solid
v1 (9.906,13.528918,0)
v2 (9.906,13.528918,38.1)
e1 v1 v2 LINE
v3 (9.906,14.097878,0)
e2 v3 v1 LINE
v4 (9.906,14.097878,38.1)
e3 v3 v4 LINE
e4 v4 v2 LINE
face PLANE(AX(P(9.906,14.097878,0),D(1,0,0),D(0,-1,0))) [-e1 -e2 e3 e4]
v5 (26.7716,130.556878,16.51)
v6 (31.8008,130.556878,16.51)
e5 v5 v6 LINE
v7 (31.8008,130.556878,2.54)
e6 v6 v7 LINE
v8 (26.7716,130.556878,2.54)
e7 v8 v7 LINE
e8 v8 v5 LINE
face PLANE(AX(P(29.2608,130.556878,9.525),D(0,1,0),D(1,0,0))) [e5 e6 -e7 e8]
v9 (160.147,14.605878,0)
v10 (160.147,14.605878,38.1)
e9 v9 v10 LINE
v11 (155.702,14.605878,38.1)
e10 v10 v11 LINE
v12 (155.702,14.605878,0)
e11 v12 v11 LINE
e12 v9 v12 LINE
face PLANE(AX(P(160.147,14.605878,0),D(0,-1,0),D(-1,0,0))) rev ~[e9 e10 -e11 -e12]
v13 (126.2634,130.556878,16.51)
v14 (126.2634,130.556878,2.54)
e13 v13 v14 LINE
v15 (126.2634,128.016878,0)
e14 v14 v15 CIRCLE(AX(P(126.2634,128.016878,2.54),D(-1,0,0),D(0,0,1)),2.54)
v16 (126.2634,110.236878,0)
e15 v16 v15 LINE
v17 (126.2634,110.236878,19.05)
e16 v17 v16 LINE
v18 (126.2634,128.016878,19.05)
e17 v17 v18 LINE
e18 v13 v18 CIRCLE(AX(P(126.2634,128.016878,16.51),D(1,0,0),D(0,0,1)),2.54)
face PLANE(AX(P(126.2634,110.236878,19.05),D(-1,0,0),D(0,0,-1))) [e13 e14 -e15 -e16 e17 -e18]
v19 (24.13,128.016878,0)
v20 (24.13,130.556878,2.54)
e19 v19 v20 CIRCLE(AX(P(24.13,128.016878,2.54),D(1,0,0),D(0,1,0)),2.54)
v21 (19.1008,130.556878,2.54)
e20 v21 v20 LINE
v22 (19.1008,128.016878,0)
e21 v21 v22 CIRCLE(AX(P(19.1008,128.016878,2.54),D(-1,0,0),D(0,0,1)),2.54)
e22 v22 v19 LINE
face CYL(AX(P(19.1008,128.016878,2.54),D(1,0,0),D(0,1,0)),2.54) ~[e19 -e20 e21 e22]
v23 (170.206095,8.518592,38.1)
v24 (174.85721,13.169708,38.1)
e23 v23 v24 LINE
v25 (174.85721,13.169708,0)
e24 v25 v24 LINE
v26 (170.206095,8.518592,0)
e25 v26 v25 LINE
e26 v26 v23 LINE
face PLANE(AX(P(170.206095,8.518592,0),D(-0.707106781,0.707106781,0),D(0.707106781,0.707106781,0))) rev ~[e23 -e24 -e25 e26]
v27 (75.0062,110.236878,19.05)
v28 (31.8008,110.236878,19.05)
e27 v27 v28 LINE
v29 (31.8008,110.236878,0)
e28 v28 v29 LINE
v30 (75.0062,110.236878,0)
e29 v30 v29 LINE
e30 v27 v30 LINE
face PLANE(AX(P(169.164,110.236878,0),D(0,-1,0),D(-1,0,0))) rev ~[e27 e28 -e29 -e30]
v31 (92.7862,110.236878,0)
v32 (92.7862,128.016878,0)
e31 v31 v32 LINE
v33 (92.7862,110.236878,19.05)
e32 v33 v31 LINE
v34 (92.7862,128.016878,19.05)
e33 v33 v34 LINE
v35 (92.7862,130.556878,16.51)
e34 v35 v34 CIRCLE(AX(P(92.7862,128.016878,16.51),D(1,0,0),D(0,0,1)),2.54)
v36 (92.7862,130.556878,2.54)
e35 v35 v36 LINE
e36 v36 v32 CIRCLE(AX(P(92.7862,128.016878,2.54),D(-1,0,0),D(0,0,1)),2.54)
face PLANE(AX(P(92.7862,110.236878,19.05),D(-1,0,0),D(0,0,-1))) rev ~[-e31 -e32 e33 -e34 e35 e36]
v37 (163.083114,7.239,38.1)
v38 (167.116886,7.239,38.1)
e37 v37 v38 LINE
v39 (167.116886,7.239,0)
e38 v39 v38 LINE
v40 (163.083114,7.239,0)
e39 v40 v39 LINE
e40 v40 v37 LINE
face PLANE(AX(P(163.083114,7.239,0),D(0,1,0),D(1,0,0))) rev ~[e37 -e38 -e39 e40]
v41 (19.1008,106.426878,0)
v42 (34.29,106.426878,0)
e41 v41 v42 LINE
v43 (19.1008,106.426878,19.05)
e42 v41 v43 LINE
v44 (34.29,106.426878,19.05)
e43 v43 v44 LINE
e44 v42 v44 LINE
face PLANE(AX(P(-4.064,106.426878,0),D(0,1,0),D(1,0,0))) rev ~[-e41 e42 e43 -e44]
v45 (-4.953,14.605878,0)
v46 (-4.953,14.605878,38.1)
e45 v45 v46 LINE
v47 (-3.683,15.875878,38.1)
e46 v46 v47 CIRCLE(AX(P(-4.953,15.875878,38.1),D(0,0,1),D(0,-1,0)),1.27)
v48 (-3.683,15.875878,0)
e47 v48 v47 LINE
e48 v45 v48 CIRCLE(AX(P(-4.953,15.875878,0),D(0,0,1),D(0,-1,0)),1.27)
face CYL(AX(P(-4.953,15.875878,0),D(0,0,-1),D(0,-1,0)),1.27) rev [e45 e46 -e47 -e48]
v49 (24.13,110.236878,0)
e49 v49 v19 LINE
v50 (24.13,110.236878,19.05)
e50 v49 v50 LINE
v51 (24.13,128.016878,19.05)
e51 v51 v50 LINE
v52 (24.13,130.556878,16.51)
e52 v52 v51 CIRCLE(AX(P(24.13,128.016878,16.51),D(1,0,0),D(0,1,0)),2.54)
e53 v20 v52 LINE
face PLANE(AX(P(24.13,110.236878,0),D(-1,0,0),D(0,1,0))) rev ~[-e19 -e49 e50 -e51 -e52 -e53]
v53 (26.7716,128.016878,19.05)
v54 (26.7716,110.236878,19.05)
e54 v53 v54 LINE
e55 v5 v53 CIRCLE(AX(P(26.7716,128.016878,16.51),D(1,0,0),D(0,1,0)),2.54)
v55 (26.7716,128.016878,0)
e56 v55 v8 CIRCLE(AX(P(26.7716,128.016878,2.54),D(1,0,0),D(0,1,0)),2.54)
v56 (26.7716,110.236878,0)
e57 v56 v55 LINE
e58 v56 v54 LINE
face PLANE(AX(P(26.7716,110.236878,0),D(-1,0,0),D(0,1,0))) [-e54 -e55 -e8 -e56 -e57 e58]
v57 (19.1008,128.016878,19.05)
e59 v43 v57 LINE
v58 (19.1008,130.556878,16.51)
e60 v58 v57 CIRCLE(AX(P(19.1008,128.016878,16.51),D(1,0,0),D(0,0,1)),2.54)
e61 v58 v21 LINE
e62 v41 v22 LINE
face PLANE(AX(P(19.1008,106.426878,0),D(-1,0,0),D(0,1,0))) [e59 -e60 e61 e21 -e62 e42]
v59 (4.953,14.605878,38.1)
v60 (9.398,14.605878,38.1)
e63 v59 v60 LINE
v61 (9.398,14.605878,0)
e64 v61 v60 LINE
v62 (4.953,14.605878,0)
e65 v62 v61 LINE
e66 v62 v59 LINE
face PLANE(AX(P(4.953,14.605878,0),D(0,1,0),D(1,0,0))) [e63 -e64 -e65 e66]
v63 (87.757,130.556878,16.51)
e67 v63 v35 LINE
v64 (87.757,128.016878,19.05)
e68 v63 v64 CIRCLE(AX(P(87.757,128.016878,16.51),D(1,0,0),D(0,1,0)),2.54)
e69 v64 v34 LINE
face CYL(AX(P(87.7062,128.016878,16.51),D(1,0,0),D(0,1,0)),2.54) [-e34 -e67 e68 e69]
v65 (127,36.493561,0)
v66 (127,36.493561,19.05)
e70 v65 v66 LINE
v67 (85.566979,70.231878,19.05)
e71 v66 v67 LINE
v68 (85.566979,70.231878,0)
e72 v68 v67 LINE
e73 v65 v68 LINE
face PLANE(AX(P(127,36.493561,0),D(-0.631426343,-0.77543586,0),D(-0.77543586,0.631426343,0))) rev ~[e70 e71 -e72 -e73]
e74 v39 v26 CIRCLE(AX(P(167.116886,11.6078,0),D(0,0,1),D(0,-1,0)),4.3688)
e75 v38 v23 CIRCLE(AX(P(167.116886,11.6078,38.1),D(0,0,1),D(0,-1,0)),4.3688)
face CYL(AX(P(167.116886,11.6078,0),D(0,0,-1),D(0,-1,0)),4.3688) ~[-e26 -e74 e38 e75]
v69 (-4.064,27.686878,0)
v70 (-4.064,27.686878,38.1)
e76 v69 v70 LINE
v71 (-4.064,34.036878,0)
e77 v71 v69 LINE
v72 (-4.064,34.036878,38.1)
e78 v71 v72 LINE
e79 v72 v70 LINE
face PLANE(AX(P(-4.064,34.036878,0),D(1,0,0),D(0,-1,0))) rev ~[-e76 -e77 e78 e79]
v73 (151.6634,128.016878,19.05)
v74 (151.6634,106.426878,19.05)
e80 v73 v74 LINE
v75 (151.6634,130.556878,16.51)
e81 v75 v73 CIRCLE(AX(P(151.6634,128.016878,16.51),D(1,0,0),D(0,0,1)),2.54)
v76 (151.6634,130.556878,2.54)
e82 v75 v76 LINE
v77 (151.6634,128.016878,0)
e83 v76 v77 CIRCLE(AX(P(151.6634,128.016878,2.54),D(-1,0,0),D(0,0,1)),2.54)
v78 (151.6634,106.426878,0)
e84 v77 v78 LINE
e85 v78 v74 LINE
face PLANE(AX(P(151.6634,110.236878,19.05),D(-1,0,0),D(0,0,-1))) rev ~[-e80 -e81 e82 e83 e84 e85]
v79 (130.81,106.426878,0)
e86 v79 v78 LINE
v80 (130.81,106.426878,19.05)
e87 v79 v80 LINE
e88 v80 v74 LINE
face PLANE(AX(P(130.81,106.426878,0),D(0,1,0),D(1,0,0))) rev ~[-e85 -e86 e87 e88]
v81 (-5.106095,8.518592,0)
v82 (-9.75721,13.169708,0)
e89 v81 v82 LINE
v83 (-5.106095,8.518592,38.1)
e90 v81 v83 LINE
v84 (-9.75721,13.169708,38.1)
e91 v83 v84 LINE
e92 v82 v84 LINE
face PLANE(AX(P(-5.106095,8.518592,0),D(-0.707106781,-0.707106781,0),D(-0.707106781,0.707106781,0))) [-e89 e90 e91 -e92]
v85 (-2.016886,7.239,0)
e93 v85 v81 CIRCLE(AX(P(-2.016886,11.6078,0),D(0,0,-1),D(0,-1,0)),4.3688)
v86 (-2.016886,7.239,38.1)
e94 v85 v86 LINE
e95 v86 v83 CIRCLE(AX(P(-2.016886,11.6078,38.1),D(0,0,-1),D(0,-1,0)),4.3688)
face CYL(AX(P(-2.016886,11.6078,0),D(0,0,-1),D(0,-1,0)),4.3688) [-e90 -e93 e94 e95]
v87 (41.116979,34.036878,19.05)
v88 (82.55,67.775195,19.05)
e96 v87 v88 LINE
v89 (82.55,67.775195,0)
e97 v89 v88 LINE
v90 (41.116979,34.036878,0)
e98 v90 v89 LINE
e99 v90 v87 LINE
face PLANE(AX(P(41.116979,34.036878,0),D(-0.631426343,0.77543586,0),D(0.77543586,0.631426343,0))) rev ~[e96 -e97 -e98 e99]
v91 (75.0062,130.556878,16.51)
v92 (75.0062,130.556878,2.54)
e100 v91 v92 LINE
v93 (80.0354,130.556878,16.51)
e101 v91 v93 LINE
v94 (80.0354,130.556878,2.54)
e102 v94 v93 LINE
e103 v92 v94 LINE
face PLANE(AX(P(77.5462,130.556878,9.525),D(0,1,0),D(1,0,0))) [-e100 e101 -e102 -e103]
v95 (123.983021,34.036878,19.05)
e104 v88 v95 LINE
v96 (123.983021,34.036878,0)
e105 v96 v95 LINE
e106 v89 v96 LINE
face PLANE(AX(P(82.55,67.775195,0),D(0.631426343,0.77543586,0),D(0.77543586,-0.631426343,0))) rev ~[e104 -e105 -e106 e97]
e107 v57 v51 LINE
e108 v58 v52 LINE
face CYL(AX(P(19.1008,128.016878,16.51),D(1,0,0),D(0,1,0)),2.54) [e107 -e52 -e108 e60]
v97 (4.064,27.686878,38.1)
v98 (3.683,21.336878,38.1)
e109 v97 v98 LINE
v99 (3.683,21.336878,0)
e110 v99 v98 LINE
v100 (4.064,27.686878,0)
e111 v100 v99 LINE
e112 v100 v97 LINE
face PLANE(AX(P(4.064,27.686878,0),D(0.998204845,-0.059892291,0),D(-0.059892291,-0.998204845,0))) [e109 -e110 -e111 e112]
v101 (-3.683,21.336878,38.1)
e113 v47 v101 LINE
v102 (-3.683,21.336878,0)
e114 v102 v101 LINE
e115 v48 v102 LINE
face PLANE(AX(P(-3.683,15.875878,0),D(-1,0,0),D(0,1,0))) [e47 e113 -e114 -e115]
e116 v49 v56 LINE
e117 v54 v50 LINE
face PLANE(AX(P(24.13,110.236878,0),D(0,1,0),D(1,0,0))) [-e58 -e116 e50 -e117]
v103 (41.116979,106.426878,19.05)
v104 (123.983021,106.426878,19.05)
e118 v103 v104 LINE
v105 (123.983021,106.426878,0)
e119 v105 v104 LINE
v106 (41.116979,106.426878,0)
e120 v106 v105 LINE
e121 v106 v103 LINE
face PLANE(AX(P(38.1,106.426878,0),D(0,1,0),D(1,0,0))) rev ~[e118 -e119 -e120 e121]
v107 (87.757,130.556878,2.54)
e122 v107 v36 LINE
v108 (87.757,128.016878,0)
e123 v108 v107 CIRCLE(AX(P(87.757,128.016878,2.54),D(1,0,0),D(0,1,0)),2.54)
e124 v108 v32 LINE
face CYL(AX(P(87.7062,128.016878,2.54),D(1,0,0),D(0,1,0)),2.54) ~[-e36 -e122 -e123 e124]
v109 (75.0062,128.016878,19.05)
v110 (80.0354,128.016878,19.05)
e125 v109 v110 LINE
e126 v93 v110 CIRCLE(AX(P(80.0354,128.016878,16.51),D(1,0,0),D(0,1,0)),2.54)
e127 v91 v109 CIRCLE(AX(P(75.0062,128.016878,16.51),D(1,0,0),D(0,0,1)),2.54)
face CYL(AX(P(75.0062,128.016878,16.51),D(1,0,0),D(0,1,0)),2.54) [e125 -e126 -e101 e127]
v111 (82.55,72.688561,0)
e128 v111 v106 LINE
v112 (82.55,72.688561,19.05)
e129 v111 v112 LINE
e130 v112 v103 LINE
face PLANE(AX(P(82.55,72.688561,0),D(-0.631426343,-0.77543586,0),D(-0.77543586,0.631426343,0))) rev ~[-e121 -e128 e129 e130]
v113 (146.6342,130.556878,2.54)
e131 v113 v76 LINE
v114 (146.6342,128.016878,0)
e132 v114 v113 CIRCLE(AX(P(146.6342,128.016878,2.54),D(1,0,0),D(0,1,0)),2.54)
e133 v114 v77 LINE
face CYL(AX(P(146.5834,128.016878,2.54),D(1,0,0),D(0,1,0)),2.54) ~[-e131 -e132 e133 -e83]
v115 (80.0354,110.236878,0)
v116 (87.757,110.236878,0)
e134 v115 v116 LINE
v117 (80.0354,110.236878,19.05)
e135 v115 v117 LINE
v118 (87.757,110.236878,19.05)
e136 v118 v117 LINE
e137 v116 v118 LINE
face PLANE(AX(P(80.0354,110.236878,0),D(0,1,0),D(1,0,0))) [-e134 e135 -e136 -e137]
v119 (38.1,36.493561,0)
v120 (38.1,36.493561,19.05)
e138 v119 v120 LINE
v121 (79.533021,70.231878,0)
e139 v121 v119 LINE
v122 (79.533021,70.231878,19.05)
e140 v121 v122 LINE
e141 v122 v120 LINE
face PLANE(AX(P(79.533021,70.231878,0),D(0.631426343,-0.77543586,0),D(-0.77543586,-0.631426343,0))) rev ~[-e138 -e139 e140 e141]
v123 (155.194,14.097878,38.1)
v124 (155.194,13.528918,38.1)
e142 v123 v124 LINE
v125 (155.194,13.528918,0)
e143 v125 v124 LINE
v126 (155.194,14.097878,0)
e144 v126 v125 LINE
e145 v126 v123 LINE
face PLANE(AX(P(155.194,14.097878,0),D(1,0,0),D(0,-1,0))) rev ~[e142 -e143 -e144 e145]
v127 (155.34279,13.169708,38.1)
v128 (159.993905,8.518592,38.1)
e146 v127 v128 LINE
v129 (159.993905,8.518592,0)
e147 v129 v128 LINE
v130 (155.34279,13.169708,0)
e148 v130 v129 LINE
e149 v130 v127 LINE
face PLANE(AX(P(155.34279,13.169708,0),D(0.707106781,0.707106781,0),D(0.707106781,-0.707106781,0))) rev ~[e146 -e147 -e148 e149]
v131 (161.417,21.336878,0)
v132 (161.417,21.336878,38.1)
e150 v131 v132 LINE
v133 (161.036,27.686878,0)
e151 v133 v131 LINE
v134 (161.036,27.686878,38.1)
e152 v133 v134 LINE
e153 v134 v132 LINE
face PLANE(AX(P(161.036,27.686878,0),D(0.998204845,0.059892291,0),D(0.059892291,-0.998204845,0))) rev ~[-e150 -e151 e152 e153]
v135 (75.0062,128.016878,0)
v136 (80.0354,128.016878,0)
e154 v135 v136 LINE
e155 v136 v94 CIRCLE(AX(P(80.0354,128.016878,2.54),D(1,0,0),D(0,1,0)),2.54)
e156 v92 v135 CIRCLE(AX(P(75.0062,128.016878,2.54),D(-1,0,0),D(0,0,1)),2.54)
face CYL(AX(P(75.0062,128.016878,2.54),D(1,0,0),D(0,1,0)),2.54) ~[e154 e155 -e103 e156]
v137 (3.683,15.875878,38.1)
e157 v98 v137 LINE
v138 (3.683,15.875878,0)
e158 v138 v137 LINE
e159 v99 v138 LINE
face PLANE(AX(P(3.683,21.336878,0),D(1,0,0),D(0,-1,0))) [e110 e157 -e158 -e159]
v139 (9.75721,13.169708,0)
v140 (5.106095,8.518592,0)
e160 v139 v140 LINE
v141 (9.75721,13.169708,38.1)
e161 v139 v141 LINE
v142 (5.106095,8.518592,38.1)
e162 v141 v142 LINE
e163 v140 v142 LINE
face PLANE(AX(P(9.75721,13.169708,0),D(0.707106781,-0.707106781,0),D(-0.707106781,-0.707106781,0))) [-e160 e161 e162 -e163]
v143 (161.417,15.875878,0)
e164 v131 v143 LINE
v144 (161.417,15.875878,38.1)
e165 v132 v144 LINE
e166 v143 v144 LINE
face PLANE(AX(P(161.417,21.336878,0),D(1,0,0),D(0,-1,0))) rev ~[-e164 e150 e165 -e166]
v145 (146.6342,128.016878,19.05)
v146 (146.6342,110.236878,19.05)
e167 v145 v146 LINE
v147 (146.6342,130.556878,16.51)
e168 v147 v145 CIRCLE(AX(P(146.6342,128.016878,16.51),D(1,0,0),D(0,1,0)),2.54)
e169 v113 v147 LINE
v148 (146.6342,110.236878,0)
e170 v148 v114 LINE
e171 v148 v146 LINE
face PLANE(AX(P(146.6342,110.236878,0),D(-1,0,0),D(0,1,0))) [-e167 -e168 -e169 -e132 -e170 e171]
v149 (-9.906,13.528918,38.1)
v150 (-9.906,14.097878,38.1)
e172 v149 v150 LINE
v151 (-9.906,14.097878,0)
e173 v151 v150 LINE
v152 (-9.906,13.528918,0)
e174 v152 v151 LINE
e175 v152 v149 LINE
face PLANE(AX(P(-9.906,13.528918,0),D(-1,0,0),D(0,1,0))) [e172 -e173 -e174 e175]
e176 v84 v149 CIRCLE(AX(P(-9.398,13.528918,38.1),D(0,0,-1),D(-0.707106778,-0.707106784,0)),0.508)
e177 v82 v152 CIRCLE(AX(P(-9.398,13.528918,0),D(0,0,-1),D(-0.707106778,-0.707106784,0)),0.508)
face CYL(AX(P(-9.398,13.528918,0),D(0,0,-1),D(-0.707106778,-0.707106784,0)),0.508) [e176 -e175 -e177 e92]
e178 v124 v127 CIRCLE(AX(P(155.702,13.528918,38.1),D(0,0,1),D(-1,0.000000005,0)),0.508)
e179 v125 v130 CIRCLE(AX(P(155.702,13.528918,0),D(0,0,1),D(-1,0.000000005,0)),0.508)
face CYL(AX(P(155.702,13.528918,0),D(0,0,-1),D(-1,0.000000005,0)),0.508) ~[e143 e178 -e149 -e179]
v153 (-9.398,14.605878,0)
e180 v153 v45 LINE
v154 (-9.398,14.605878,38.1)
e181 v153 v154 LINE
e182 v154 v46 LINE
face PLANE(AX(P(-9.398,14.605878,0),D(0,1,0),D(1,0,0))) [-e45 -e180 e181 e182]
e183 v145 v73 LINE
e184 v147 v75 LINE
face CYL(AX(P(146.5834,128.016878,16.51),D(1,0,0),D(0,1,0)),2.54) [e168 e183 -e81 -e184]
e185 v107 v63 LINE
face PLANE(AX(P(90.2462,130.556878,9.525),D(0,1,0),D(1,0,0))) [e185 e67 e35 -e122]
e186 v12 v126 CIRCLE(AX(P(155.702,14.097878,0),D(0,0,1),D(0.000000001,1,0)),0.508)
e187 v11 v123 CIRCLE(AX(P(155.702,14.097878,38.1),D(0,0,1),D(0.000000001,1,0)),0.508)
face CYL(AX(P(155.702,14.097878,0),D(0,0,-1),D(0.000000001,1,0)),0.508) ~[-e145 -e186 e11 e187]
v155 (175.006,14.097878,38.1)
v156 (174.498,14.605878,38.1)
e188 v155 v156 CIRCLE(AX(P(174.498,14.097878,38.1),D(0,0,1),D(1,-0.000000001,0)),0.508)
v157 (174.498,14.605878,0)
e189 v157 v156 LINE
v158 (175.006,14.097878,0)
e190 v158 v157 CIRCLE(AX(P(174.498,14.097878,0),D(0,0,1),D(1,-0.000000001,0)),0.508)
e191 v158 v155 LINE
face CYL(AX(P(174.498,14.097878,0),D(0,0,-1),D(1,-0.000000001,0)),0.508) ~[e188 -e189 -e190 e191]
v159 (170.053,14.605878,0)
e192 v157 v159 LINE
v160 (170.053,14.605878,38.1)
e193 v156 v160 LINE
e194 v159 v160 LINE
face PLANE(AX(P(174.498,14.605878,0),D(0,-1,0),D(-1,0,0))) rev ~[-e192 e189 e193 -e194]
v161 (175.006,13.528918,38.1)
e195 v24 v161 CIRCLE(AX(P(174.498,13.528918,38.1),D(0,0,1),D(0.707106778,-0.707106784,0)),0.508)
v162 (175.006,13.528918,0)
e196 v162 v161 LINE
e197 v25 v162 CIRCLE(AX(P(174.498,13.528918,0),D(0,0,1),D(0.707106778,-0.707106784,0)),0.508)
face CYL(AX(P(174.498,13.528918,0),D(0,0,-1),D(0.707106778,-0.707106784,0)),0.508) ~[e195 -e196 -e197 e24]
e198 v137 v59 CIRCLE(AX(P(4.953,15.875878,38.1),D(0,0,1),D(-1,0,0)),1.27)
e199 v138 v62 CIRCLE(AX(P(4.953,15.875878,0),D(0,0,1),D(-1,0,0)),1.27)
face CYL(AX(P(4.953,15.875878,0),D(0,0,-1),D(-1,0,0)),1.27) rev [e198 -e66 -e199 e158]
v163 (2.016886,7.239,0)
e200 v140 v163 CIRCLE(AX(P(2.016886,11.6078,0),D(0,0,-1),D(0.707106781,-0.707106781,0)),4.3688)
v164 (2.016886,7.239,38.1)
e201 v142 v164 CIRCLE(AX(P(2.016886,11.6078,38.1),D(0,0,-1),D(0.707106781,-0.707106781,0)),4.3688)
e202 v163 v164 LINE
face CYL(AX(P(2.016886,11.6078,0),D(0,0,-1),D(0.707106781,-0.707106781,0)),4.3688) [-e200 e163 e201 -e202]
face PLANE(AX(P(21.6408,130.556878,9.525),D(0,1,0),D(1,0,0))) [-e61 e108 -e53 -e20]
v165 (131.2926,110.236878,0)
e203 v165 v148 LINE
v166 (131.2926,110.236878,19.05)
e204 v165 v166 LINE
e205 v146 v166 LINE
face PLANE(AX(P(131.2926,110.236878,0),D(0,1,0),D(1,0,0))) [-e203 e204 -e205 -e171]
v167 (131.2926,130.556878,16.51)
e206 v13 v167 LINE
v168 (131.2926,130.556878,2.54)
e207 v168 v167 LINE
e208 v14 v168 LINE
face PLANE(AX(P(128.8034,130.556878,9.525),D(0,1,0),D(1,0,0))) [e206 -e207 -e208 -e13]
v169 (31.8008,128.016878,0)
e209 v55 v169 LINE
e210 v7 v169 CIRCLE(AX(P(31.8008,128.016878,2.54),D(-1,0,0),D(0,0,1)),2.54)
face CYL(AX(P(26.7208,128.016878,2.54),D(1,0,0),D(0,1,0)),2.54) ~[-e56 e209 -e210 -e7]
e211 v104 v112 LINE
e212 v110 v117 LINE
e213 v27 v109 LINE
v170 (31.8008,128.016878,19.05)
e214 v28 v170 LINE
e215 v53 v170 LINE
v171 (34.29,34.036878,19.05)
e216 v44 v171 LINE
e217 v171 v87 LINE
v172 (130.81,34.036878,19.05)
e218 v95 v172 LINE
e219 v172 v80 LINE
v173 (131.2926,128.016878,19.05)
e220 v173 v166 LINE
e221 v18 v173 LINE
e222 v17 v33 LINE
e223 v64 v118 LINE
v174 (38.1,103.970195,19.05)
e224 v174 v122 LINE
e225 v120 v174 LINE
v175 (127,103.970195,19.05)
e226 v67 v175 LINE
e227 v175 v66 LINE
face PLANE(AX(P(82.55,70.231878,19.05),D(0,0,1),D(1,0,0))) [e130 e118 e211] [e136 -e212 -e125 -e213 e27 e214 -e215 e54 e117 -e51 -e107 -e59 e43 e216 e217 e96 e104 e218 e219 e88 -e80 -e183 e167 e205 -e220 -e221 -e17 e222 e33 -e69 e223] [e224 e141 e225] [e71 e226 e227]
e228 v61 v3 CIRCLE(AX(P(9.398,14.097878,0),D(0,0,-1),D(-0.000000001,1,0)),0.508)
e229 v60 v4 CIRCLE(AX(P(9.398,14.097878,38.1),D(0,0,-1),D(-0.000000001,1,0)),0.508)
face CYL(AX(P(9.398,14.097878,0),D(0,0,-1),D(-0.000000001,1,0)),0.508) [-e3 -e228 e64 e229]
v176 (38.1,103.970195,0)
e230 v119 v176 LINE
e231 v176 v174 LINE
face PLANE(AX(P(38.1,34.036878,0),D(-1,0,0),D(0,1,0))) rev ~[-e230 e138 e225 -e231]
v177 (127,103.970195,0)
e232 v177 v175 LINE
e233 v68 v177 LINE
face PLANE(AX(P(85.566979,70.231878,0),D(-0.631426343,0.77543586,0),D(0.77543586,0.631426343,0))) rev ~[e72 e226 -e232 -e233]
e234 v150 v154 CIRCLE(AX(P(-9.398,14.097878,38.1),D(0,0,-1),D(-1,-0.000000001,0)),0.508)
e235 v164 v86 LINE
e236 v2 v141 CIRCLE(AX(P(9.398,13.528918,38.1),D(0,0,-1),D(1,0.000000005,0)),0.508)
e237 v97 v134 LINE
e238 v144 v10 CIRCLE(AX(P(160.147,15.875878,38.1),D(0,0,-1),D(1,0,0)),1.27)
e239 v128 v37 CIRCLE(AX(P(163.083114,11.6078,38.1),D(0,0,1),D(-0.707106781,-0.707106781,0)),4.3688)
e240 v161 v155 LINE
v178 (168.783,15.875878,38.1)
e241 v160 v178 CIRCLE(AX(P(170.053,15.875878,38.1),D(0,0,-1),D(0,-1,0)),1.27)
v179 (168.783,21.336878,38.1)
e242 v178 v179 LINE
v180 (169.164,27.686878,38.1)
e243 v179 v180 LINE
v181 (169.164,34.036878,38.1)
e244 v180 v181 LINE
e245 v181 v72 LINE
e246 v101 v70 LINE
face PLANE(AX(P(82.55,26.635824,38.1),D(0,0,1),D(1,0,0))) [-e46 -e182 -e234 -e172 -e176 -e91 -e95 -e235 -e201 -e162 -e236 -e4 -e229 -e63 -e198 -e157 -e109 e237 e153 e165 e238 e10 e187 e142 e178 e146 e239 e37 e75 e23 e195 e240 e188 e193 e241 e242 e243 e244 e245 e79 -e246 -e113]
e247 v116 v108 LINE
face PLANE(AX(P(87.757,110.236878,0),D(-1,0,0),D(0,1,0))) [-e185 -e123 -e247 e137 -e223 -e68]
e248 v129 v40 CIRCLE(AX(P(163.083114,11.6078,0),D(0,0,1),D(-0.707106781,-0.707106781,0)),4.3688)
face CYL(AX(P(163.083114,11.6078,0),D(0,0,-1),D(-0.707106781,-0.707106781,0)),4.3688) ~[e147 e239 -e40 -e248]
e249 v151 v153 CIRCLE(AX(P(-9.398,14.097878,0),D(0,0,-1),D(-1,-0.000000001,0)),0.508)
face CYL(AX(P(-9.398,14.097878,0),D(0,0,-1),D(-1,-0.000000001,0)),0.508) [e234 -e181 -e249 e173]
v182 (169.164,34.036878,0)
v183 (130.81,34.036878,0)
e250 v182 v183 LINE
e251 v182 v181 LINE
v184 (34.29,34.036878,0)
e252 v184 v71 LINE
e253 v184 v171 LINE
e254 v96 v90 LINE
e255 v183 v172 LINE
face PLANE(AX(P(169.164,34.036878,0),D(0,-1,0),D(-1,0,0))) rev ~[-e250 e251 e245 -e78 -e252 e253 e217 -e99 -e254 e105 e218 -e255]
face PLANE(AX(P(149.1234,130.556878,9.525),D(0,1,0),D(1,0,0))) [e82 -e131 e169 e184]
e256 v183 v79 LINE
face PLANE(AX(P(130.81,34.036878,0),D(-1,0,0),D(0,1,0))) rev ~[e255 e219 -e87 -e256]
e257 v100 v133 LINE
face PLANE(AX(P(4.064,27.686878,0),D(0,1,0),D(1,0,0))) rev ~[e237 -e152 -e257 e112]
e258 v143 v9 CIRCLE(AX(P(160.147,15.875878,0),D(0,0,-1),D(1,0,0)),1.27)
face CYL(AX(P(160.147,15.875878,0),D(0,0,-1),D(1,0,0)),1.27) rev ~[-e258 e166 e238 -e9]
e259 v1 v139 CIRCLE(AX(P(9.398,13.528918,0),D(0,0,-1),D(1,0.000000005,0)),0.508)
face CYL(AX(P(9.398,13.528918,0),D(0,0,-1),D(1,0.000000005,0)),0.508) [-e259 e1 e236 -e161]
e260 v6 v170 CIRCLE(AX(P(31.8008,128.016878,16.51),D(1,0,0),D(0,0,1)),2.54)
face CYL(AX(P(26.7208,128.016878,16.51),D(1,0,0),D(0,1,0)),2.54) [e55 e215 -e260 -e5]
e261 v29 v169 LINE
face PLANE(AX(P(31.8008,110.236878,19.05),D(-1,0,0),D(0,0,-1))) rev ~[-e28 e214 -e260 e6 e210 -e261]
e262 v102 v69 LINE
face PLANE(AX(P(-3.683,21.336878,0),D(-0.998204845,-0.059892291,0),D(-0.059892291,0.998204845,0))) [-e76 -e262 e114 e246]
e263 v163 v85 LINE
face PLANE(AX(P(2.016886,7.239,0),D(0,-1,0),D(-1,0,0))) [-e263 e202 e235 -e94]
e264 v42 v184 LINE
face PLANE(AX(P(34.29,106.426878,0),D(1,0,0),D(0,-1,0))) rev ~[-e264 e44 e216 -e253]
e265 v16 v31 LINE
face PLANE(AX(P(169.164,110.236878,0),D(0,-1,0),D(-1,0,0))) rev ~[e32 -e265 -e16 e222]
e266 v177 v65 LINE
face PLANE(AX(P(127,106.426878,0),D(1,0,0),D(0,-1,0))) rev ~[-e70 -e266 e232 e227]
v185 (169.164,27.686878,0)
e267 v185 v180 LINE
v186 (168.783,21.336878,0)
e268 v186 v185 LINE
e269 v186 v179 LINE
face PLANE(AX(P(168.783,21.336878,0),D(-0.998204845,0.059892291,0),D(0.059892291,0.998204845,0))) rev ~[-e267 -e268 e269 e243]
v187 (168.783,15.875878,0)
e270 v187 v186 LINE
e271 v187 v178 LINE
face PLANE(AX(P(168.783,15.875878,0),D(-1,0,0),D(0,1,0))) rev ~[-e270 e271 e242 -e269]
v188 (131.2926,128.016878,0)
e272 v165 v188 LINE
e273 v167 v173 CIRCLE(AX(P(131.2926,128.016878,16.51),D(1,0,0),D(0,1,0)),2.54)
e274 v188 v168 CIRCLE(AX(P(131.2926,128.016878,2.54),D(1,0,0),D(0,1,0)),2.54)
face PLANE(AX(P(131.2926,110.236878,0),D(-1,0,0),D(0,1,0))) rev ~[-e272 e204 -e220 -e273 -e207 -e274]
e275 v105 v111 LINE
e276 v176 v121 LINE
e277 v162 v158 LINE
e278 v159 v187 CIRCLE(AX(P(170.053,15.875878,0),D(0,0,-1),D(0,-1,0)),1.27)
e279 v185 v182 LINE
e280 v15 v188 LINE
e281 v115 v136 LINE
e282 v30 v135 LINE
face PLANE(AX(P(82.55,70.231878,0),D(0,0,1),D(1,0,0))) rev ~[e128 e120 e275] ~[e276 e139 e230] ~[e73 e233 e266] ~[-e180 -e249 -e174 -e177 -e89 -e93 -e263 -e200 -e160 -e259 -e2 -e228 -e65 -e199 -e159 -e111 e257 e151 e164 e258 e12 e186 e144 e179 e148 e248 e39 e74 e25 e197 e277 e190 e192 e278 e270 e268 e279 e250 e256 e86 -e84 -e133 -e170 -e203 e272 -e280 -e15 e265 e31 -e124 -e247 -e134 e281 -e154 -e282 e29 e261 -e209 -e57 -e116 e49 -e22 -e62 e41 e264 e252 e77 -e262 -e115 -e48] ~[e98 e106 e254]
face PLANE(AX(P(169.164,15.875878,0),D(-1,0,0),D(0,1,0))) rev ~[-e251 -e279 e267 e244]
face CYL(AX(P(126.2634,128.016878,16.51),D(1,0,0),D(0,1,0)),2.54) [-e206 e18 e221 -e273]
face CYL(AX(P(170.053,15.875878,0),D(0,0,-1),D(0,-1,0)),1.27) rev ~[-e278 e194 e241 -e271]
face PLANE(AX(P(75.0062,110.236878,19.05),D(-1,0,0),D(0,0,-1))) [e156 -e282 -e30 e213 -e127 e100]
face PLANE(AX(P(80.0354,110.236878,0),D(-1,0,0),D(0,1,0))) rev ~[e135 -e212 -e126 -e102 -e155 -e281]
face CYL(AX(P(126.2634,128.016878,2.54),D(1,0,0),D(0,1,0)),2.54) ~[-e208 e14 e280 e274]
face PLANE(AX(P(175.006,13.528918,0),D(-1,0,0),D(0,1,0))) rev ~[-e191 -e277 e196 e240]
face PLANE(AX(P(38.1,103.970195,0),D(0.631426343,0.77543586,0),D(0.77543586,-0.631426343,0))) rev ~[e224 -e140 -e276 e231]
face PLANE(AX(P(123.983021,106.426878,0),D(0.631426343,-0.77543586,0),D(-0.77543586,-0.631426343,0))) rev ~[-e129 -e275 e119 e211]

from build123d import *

# Parameters (mm, degrees)
BOSS_EXTRUDE2_DEPTH  = 38.1
BOSS_EXTRUDE6_DEPTH  = 19.05
SKETCH6_W            = 5.08
SKETCH6_H            = 19.05
BOSS_EXTRUDE5_DEPTH  = 20.32
SKETCH10_W           = 23.1648
SKETCH10_H           = 3.81
SKETCH10_W_2         = 17.5006
CUT_EXTRUDE3_DEPTH   = 19.05
FILLET1_R            = 2.54
BOSS_EXTRUDE7_DEPTH  = 19.05
CLEARANCE_START      = -38.1
SKETCH3_W            = 2.6416
SKETCH3_H            = 20.32
SKETCH3_W_2          = 7.7216
SKETCH3_W_3          = 15.3416
CLEARANCE_TRIM_DEPTH = 38.1


with BuildPart() as part:
    # Sketch1 → Boss-Extrude2 (new body)
    with BuildSketch(Plane.XY):
        with BuildLine():
            Line((-2.016886463, 6.858), (2.016886463, 6.858))
            ThreePointArc((2.016886463, 6.858), (3.83455623, 7.219556996), (5.375502252, 8.249184211))
            Line((5.375502252, 8.249184211), (10.026617928, 12.900299887))
            ThreePointArc((10.026617928, 12.900299887), (10.219328904, 13.188712244), (10.287, 13.528917816))
            Line((10.287, 13.528917816), (10.287, 14.097877816))
            ThreePointArc((10.287, 14.097877816), (10.026617928, 14.726495744), (9.398, 14.986877816))
            Line((9.398, 14.986877816), (4.953, 14.986877816))
            ThreePointArc((4.953, 14.986877816), (4.324382072, 15.247259887), (4.064, 15.875877816))
            Line((4.064, 15.875877816), (4.064, 27.686877816))
            Line((4.064, 27.686877816), (161.036, 27.686877816))
            Line((161.036, 27.686877816), (161.036, 15.875877816))
            ThreePointArc((161.036, 15.875877816), (160.775617928, 15.247259887), (160.147, 14.986877816))
            Line((160.147, 14.986877816), (155.702, 14.986877816))
            ThreePointArc((155.702, 14.986877816), (155.073382072, 14.726495744), (154.813, 14.097877816))
            Line((154.813, 14.097877816), (154.813, 13.528917816))
            ThreePointArc((154.813, 13.528917816), (154.880671096, 13.188712244), (155.073382072, 12.900299887))
            Line((155.073382072, 12.900299887), (159.724497748, 8.249184211))
            ThreePointArc((159.724497748, 8.249184211), (161.26544377, 7.219556996), (163.083113537, 6.858))
            Line((163.083113537, 6.858), (167.116886463, 6.858))
            ThreePointArc((167.116886463, 6.858), (168.93455623, 7.219556996), (170.475502252, 8.249184211))
            Line((170.475502252, 8.249184211), (175.126617928, 12.900299887))
            ThreePointArc((175.126617928, 12.900299887), (175.319328904, 13.188712244), (175.387, 13.528917816))
            Line((175.387, 13.528917816), (175.387, 14.097877816))
            ThreePointArc((175.387, 14.097877816), (175.126617928, 14.726495744), (174.498, 14.986877816))
            Line((174.498, 14.986877816), (170.053, 14.986877816))
            ThreePointArc((170.053, 14.986877816), (169.424382072, 15.247259887), (169.164, 15.875877816))
            Line((169.164, 15.875877816), (169.164, 27.686877816))
            Line((169.164, 27.686877816), (169.164, 34.036877816))
            Line((169.164, 34.036877816), (-4.064, 34.036877816))
            Line((-4.064, 34.036877816), (-4.064, 27.686877816))
            Line((-4.064, 27.686877816), (-4.064, 15.875877816))
            ThreePointArc((-4.064, 15.875877816), (-4.324382072, 15.247259887), (-4.953, 14.986877816))
            Line((-4.953, 14.986877816), (-9.398, 14.986877816))
            ThreePointArc((-9.398, 14.986877816), (-10.026617928, 14.726495744), (-10.287, 14.097877816))
            Line((-10.287, 14.097877816), (-10.287, 13.528917816))
            ThreePointArc((-10.287, 13.528917816), (-10.219328904, 13.188712244), (-10.026617928, 12.900299887))
            Line((-10.026617928, 12.900299887), (-5.375502252, 8.249184211))
            ThreePointArc((-5.375502252, 8.249184211), (-3.83455623, 7.219556996), (-2.016886463, 6.858))
        make_face()
    extrude(amount=BOSS_EXTRUDE2_DEPTH)

    # Sketch7 → Boss-Extrude6 (add)
    with BuildSketch(Plane.XY):
        Polygon((130.81, 106.426877816), (169.164, 106.426877816), (169.164, 110.236877816), (-4.064, 110.236877816), (-4.064, 106.426877816), (34.29, 106.426877816), (34.29, 34.036877816), (38.1, 34.036877816), (38.1, 106.426877816), (127, 106.426877816), (127, 34.036877816), (130.81, 34.036877816), align=None)
    extrude(amount=BOSS_EXTRUDE6_DEPTH)

    # Sketch6 → Boss-Extrude5 (add)
    with BuildSketch(Plane(origin=(0, 110.236877816, 0), x_dir=(1, 0, 0), z_dir=(0, 1, 0))):
        with Locations((21.6408, -9.525)):
            Rectangle(SKETCH6_W, SKETCH6_H)
        with Locations((29.2608, -9.525)):
            Rectangle(SKETCH6_W, SKETCH6_H)
        with Locations((77.5462, -9.525)):
            Rectangle(SKETCH6_W, SKETCH6_H)
        with Locations((90.2462, -9.525)):
            Rectangle(SKETCH6_W, SKETCH6_H)
        with Locations((128.8034, -9.525)):
            Rectangle(SKETCH6_W, SKETCH6_H)
        with Locations((149.1234, -9.525)):
            Rectangle(SKETCH6_W, SKETCH6_H)
    extrude(amount=BOSS_EXTRUDE5_DEPTH)

    # Sketch10 → Cut-Extrude3 (cut)
    with BuildSketch(Plane.XY):
        with Locations((7.5184, 108.331877816)):
            Rectangle(SKETCH10_W, SKETCH10_H)
        with Locations((160.4137, 108.331877816)):
            Rectangle(SKETCH10_W_2, SKETCH10_H)
    extrude(amount=CUT_EXTRUDE3_DEPTH, mode=Mode.SUBTRACT)

    # Fillet1
    fillet1_edges = [part.edges().sort_by_distance(p)[0] for p in [
        (21.6408, 130.556877816, 19.05),
        (21.6408, 130.556877816, 0),
        (29.2608, 130.556877816, 0),
        (29.2608, 130.556877816, 19.05),
        (77.5462, 130.556877816, 0),
        (77.5462, 130.556877816, 19.05),
        (90.2462, 130.556877816, 0),
        (90.2462, 130.556877816, 19.05),
        (128.8034, 130.556877816, 0),
        (128.8034, 130.556877816, 19.05),
        (149.1234, 130.556877816, 0),
        (149.1234, 130.556877816, 19.05),
    ]]
    fillet(fillet1_edges, radius=FILLET1_R)

    # Sketch11 → Boss-Extrude7 (add)
    with BuildSketch(Plane.XY):
        Polygon((38.1, 103.970194938), (79.533021028, 70.231877816), (38.1, 36.493560693), (38.1, 34.036877816), (41.116978972, 34.036877816), (82.55, 67.775194938), (123.983021028, 34.036877816), (127, 34.036877816), (127, 36.493560693), (85.566978972, 70.231877816), (127, 103.970194938), (127, 106.426877816), (123.983021028, 106.426877816), (82.55, 72.688560693), (41.116978972, 106.426877816), (38.1, 106.426877816), align=None)
    extrude(amount=BOSS_EXTRUDE7_DEPTH)

    # Sketch3 → Clearance Trim (cut)
    with BuildSketch(Plane.XY.offset(38.1).offset(CLEARANCE_START)):
        with BuildLine():
            Line((4.064, 27.686877816), (3.683, 21.336877816))
            Line((3.683, 21.336877816), (3.683, 15.875877816))
            ThreePointArc((3.683, 15.875877816), (4.054974388, 14.977852204), (4.953, 14.605877816))
            Line((4.953, 14.605877816), (9.398, 14.605877816))
            ThreePointArc((9.398, 14.605877816), (9.757210245, 14.457088061), (9.906, 14.097877816))
            Line((9.906, 14.097877816), (9.906, 13.528917816))
            ThreePointArc((9.906, 13.528917816), (9.867330803, 13.334514632), (9.757210245, 13.169707571))
            Line((9.757210245, 13.169707571), (5.106094568, 8.518591894))
            ThreePointArc((5.106094568, 8.518591894), (3.688753842, 7.571555098), (2.016886463, 7.239))
            Line((2.016886463, 7.239), (-2.016886463, 7.239))
            ThreePointArc((-2.016886463, 7.239), (-3.688753842, 7.571555098), (-5.106094568, 8.518591894))
            Line((-5.106094568, 8.518591894), (-9.757210245, 13.169707571))
            ThreePointArc((-9.757210245, 13.169707571), (-9.867330803, 13.334514632), (-9.906, 13.528917816))
            Line((-9.906, 13.528917816), (-9.906, 14.097877816))
            ThreePointArc((-9.906, 14.097877816), (-9.757210245, 14.457088061), (-9.398, 14.605877816))
            Line((-9.398, 14.605877816), (-4.953, 14.605877816))
            ThreePointArc((-4.953, 14.605877816), (-4.054974388, 14.977852204), (-3.683, 15.875877816))
            Line((-3.683, 15.875877816), (-3.683, 21.336877816))
            Line((-3.683, 21.336877816), (-4.064, 27.686877816))
            Line((-4.064, 27.686877816), (-4.064, 15.875877816))
            ThreePointArc((-4.064, 15.875877816), (-4.324382072, 15.247259887), (-4.953, 14.986877816))
            Line((-4.953, 14.986877816), (-9.398, 14.986877816))
            ThreePointArc((-9.398, 14.986877816), (-10.026617928, 14.726495744), (-10.287, 14.097877816))
            Line((-10.287, 14.097877816), (-10.287, 13.528917816))
            ThreePointArc((-10.287, 13.528917816), (-10.219328904, 13.188712244), (-10.026617928, 12.900299887))
            Line((-10.026617928, 12.900299887), (-5.375502252, 8.249184211))
            ThreePointArc((-5.375502252, 8.249184211), (-3.83455623, 7.219556996), (-2.016886463, 6.858))
            Line((-2.016886463, 6.858), (2.016886463, 6.858))
            ThreePointArc((2.016886463, 6.858), (3.83455623, 7.219556996), (5.375502252, 8.249184211))
            Line((5.375502252, 8.249184211), (10.026617928, 12.900299887))
            ThreePointArc((10.026617928, 12.900299887), (10.219328904, 13.188712244), (10.287, 13.528917816))
            Line((10.287, 13.528917816), (10.287, 14.097877816))
            ThreePointArc((10.287, 14.097877816), (10.026617928, 14.726495744), (9.398, 14.986877816))
            Line((9.398, 14.986877816), (4.953, 14.986877816))
            ThreePointArc((4.953, 14.986877816), (4.324382072, 15.247259887), (4.064, 15.875877816))
            Line((4.064, 15.875877816), (4.064, 27.686877816))
        make_face()
        with BuildLine():
            Line((161.036, 27.686877816), (161.417, 21.336877816))
            Line((161.417, 21.336877816), (161.417, 15.875877816))
            ThreePointArc((161.417, 15.875877816), (161.045025612, 14.977852204), (160.147, 14.605877816))
            Line((160.147, 14.605877816), (155.702, 14.605877816))
            ThreePointArc((155.702, 14.605877816), (155.342789755, 14.457088061), (155.194, 14.097877816))
            Line((155.194, 14.097877816), (155.194, 13.528917816))
            ThreePointArc((155.194, 13.528917816), (155.232669197, 13.334514632), (155.342789755, 13.169707571))
            Line((155.342789755, 13.169707571), (159.993905432, 8.518591894))
            ThreePointArc((159.993905432, 8.518591894), (161.411246158, 7.571555098), (163.083113537, 7.239))
            Line((163.083113537, 7.239), (167.116886463, 7.239))
            ThreePointArc((167.116886463, 7.239), (168.788753842, 7.571555098), (170.206094568, 8.518591894))
            Line((170.206094568, 8.518591894), (174.857210245, 13.169707571))
            ThreePointArc((174.857210245, 13.169707571), (174.967330803, 13.334514632), (175.006, 13.528917816))
            Line((175.006, 13.528917816), (175.006, 14.097877816))
            ThreePointArc((175.006, 14.097877816), (174.857210245, 14.457088061), (174.498, 14.605877816))
            Line((174.498, 14.605877816), (170.053, 14.605877816))
            ThreePointArc((170.053, 14.605877816), (169.154974388, 14.977852204), (168.783, 15.875877816))
            Line((168.783, 15.875877816), (168.783, 21.336877816))
            Line((168.783, 21.336877816), (169.164, 27.686877816))
            Line((169.164, 27.686877816), (169.164, 15.875877816))
            ThreePointArc((169.164, 15.875877816), (169.424382072, 15.247259887), (170.053, 14.986877816))
            Line((170.053, 14.986877816), (174.498, 14.986877816))
            ThreePointArc((174.498, 14.986877816), (175.126617928, 14.726495744), (175.387, 14.097877816))
            Line((175.387, 14.097877816), (175.387, 13.528917816))
            ThreePointArc((175.387, 13.528917816), (175.319328904, 13.188712244), (175.126617928, 12.900299887))
            Line((175.126617928, 12.900299887), (170.475502252, 8.249184211))
            ThreePointArc((170.475502252, 8.249184211), (168.93455623, 7.219556996), (167.116886463, 6.858))
            Line((167.116886463, 6.858), (163.083113537, 6.858))
            ThreePointArc((163.083113537, 6.858), (161.26544377, 7.219556996), (159.724497748, 8.249184211))
            Line((159.724497748, 8.249184211), (155.073382072, 12.900299887))
            ThreePointArc((155.073382072, 12.900299887), (154.880671096, 13.188712244), (154.813, 13.528917816))
            Line((154.813, 13.528917816), (154.813, 14.097877816))
            ThreePointArc((154.813, 14.097877816), (155.073382072, 14.726495744), (155.702, 14.986877816))
            Line((155.702, 14.986877816), (160.147, 14.986877816))
            ThreePointArc((160.147, 14.986877816), (160.775617928, 15.247259887), (161.036, 15.875877816))
            Line((161.036, 15.875877816), (161.036, 27.686877816))
        make_face()
        with Locations((25.4508, 120.396877816)):
            Rectangle(SKETCH3_W, SKETCH3_H)
        with Locations((83.8962, 120.396877816)):
            Rectangle(SKETCH3_W_2, SKETCH3_H)
        with Locations((138.9634, 120.396877816)):
            Rectangle(SKETCH3_W_3, SKETCH3_H)
    extrude(amount=CLEARANCE_TRIM_DEPTH, mode=Mode.SUBTRACT)


solid = part.part
